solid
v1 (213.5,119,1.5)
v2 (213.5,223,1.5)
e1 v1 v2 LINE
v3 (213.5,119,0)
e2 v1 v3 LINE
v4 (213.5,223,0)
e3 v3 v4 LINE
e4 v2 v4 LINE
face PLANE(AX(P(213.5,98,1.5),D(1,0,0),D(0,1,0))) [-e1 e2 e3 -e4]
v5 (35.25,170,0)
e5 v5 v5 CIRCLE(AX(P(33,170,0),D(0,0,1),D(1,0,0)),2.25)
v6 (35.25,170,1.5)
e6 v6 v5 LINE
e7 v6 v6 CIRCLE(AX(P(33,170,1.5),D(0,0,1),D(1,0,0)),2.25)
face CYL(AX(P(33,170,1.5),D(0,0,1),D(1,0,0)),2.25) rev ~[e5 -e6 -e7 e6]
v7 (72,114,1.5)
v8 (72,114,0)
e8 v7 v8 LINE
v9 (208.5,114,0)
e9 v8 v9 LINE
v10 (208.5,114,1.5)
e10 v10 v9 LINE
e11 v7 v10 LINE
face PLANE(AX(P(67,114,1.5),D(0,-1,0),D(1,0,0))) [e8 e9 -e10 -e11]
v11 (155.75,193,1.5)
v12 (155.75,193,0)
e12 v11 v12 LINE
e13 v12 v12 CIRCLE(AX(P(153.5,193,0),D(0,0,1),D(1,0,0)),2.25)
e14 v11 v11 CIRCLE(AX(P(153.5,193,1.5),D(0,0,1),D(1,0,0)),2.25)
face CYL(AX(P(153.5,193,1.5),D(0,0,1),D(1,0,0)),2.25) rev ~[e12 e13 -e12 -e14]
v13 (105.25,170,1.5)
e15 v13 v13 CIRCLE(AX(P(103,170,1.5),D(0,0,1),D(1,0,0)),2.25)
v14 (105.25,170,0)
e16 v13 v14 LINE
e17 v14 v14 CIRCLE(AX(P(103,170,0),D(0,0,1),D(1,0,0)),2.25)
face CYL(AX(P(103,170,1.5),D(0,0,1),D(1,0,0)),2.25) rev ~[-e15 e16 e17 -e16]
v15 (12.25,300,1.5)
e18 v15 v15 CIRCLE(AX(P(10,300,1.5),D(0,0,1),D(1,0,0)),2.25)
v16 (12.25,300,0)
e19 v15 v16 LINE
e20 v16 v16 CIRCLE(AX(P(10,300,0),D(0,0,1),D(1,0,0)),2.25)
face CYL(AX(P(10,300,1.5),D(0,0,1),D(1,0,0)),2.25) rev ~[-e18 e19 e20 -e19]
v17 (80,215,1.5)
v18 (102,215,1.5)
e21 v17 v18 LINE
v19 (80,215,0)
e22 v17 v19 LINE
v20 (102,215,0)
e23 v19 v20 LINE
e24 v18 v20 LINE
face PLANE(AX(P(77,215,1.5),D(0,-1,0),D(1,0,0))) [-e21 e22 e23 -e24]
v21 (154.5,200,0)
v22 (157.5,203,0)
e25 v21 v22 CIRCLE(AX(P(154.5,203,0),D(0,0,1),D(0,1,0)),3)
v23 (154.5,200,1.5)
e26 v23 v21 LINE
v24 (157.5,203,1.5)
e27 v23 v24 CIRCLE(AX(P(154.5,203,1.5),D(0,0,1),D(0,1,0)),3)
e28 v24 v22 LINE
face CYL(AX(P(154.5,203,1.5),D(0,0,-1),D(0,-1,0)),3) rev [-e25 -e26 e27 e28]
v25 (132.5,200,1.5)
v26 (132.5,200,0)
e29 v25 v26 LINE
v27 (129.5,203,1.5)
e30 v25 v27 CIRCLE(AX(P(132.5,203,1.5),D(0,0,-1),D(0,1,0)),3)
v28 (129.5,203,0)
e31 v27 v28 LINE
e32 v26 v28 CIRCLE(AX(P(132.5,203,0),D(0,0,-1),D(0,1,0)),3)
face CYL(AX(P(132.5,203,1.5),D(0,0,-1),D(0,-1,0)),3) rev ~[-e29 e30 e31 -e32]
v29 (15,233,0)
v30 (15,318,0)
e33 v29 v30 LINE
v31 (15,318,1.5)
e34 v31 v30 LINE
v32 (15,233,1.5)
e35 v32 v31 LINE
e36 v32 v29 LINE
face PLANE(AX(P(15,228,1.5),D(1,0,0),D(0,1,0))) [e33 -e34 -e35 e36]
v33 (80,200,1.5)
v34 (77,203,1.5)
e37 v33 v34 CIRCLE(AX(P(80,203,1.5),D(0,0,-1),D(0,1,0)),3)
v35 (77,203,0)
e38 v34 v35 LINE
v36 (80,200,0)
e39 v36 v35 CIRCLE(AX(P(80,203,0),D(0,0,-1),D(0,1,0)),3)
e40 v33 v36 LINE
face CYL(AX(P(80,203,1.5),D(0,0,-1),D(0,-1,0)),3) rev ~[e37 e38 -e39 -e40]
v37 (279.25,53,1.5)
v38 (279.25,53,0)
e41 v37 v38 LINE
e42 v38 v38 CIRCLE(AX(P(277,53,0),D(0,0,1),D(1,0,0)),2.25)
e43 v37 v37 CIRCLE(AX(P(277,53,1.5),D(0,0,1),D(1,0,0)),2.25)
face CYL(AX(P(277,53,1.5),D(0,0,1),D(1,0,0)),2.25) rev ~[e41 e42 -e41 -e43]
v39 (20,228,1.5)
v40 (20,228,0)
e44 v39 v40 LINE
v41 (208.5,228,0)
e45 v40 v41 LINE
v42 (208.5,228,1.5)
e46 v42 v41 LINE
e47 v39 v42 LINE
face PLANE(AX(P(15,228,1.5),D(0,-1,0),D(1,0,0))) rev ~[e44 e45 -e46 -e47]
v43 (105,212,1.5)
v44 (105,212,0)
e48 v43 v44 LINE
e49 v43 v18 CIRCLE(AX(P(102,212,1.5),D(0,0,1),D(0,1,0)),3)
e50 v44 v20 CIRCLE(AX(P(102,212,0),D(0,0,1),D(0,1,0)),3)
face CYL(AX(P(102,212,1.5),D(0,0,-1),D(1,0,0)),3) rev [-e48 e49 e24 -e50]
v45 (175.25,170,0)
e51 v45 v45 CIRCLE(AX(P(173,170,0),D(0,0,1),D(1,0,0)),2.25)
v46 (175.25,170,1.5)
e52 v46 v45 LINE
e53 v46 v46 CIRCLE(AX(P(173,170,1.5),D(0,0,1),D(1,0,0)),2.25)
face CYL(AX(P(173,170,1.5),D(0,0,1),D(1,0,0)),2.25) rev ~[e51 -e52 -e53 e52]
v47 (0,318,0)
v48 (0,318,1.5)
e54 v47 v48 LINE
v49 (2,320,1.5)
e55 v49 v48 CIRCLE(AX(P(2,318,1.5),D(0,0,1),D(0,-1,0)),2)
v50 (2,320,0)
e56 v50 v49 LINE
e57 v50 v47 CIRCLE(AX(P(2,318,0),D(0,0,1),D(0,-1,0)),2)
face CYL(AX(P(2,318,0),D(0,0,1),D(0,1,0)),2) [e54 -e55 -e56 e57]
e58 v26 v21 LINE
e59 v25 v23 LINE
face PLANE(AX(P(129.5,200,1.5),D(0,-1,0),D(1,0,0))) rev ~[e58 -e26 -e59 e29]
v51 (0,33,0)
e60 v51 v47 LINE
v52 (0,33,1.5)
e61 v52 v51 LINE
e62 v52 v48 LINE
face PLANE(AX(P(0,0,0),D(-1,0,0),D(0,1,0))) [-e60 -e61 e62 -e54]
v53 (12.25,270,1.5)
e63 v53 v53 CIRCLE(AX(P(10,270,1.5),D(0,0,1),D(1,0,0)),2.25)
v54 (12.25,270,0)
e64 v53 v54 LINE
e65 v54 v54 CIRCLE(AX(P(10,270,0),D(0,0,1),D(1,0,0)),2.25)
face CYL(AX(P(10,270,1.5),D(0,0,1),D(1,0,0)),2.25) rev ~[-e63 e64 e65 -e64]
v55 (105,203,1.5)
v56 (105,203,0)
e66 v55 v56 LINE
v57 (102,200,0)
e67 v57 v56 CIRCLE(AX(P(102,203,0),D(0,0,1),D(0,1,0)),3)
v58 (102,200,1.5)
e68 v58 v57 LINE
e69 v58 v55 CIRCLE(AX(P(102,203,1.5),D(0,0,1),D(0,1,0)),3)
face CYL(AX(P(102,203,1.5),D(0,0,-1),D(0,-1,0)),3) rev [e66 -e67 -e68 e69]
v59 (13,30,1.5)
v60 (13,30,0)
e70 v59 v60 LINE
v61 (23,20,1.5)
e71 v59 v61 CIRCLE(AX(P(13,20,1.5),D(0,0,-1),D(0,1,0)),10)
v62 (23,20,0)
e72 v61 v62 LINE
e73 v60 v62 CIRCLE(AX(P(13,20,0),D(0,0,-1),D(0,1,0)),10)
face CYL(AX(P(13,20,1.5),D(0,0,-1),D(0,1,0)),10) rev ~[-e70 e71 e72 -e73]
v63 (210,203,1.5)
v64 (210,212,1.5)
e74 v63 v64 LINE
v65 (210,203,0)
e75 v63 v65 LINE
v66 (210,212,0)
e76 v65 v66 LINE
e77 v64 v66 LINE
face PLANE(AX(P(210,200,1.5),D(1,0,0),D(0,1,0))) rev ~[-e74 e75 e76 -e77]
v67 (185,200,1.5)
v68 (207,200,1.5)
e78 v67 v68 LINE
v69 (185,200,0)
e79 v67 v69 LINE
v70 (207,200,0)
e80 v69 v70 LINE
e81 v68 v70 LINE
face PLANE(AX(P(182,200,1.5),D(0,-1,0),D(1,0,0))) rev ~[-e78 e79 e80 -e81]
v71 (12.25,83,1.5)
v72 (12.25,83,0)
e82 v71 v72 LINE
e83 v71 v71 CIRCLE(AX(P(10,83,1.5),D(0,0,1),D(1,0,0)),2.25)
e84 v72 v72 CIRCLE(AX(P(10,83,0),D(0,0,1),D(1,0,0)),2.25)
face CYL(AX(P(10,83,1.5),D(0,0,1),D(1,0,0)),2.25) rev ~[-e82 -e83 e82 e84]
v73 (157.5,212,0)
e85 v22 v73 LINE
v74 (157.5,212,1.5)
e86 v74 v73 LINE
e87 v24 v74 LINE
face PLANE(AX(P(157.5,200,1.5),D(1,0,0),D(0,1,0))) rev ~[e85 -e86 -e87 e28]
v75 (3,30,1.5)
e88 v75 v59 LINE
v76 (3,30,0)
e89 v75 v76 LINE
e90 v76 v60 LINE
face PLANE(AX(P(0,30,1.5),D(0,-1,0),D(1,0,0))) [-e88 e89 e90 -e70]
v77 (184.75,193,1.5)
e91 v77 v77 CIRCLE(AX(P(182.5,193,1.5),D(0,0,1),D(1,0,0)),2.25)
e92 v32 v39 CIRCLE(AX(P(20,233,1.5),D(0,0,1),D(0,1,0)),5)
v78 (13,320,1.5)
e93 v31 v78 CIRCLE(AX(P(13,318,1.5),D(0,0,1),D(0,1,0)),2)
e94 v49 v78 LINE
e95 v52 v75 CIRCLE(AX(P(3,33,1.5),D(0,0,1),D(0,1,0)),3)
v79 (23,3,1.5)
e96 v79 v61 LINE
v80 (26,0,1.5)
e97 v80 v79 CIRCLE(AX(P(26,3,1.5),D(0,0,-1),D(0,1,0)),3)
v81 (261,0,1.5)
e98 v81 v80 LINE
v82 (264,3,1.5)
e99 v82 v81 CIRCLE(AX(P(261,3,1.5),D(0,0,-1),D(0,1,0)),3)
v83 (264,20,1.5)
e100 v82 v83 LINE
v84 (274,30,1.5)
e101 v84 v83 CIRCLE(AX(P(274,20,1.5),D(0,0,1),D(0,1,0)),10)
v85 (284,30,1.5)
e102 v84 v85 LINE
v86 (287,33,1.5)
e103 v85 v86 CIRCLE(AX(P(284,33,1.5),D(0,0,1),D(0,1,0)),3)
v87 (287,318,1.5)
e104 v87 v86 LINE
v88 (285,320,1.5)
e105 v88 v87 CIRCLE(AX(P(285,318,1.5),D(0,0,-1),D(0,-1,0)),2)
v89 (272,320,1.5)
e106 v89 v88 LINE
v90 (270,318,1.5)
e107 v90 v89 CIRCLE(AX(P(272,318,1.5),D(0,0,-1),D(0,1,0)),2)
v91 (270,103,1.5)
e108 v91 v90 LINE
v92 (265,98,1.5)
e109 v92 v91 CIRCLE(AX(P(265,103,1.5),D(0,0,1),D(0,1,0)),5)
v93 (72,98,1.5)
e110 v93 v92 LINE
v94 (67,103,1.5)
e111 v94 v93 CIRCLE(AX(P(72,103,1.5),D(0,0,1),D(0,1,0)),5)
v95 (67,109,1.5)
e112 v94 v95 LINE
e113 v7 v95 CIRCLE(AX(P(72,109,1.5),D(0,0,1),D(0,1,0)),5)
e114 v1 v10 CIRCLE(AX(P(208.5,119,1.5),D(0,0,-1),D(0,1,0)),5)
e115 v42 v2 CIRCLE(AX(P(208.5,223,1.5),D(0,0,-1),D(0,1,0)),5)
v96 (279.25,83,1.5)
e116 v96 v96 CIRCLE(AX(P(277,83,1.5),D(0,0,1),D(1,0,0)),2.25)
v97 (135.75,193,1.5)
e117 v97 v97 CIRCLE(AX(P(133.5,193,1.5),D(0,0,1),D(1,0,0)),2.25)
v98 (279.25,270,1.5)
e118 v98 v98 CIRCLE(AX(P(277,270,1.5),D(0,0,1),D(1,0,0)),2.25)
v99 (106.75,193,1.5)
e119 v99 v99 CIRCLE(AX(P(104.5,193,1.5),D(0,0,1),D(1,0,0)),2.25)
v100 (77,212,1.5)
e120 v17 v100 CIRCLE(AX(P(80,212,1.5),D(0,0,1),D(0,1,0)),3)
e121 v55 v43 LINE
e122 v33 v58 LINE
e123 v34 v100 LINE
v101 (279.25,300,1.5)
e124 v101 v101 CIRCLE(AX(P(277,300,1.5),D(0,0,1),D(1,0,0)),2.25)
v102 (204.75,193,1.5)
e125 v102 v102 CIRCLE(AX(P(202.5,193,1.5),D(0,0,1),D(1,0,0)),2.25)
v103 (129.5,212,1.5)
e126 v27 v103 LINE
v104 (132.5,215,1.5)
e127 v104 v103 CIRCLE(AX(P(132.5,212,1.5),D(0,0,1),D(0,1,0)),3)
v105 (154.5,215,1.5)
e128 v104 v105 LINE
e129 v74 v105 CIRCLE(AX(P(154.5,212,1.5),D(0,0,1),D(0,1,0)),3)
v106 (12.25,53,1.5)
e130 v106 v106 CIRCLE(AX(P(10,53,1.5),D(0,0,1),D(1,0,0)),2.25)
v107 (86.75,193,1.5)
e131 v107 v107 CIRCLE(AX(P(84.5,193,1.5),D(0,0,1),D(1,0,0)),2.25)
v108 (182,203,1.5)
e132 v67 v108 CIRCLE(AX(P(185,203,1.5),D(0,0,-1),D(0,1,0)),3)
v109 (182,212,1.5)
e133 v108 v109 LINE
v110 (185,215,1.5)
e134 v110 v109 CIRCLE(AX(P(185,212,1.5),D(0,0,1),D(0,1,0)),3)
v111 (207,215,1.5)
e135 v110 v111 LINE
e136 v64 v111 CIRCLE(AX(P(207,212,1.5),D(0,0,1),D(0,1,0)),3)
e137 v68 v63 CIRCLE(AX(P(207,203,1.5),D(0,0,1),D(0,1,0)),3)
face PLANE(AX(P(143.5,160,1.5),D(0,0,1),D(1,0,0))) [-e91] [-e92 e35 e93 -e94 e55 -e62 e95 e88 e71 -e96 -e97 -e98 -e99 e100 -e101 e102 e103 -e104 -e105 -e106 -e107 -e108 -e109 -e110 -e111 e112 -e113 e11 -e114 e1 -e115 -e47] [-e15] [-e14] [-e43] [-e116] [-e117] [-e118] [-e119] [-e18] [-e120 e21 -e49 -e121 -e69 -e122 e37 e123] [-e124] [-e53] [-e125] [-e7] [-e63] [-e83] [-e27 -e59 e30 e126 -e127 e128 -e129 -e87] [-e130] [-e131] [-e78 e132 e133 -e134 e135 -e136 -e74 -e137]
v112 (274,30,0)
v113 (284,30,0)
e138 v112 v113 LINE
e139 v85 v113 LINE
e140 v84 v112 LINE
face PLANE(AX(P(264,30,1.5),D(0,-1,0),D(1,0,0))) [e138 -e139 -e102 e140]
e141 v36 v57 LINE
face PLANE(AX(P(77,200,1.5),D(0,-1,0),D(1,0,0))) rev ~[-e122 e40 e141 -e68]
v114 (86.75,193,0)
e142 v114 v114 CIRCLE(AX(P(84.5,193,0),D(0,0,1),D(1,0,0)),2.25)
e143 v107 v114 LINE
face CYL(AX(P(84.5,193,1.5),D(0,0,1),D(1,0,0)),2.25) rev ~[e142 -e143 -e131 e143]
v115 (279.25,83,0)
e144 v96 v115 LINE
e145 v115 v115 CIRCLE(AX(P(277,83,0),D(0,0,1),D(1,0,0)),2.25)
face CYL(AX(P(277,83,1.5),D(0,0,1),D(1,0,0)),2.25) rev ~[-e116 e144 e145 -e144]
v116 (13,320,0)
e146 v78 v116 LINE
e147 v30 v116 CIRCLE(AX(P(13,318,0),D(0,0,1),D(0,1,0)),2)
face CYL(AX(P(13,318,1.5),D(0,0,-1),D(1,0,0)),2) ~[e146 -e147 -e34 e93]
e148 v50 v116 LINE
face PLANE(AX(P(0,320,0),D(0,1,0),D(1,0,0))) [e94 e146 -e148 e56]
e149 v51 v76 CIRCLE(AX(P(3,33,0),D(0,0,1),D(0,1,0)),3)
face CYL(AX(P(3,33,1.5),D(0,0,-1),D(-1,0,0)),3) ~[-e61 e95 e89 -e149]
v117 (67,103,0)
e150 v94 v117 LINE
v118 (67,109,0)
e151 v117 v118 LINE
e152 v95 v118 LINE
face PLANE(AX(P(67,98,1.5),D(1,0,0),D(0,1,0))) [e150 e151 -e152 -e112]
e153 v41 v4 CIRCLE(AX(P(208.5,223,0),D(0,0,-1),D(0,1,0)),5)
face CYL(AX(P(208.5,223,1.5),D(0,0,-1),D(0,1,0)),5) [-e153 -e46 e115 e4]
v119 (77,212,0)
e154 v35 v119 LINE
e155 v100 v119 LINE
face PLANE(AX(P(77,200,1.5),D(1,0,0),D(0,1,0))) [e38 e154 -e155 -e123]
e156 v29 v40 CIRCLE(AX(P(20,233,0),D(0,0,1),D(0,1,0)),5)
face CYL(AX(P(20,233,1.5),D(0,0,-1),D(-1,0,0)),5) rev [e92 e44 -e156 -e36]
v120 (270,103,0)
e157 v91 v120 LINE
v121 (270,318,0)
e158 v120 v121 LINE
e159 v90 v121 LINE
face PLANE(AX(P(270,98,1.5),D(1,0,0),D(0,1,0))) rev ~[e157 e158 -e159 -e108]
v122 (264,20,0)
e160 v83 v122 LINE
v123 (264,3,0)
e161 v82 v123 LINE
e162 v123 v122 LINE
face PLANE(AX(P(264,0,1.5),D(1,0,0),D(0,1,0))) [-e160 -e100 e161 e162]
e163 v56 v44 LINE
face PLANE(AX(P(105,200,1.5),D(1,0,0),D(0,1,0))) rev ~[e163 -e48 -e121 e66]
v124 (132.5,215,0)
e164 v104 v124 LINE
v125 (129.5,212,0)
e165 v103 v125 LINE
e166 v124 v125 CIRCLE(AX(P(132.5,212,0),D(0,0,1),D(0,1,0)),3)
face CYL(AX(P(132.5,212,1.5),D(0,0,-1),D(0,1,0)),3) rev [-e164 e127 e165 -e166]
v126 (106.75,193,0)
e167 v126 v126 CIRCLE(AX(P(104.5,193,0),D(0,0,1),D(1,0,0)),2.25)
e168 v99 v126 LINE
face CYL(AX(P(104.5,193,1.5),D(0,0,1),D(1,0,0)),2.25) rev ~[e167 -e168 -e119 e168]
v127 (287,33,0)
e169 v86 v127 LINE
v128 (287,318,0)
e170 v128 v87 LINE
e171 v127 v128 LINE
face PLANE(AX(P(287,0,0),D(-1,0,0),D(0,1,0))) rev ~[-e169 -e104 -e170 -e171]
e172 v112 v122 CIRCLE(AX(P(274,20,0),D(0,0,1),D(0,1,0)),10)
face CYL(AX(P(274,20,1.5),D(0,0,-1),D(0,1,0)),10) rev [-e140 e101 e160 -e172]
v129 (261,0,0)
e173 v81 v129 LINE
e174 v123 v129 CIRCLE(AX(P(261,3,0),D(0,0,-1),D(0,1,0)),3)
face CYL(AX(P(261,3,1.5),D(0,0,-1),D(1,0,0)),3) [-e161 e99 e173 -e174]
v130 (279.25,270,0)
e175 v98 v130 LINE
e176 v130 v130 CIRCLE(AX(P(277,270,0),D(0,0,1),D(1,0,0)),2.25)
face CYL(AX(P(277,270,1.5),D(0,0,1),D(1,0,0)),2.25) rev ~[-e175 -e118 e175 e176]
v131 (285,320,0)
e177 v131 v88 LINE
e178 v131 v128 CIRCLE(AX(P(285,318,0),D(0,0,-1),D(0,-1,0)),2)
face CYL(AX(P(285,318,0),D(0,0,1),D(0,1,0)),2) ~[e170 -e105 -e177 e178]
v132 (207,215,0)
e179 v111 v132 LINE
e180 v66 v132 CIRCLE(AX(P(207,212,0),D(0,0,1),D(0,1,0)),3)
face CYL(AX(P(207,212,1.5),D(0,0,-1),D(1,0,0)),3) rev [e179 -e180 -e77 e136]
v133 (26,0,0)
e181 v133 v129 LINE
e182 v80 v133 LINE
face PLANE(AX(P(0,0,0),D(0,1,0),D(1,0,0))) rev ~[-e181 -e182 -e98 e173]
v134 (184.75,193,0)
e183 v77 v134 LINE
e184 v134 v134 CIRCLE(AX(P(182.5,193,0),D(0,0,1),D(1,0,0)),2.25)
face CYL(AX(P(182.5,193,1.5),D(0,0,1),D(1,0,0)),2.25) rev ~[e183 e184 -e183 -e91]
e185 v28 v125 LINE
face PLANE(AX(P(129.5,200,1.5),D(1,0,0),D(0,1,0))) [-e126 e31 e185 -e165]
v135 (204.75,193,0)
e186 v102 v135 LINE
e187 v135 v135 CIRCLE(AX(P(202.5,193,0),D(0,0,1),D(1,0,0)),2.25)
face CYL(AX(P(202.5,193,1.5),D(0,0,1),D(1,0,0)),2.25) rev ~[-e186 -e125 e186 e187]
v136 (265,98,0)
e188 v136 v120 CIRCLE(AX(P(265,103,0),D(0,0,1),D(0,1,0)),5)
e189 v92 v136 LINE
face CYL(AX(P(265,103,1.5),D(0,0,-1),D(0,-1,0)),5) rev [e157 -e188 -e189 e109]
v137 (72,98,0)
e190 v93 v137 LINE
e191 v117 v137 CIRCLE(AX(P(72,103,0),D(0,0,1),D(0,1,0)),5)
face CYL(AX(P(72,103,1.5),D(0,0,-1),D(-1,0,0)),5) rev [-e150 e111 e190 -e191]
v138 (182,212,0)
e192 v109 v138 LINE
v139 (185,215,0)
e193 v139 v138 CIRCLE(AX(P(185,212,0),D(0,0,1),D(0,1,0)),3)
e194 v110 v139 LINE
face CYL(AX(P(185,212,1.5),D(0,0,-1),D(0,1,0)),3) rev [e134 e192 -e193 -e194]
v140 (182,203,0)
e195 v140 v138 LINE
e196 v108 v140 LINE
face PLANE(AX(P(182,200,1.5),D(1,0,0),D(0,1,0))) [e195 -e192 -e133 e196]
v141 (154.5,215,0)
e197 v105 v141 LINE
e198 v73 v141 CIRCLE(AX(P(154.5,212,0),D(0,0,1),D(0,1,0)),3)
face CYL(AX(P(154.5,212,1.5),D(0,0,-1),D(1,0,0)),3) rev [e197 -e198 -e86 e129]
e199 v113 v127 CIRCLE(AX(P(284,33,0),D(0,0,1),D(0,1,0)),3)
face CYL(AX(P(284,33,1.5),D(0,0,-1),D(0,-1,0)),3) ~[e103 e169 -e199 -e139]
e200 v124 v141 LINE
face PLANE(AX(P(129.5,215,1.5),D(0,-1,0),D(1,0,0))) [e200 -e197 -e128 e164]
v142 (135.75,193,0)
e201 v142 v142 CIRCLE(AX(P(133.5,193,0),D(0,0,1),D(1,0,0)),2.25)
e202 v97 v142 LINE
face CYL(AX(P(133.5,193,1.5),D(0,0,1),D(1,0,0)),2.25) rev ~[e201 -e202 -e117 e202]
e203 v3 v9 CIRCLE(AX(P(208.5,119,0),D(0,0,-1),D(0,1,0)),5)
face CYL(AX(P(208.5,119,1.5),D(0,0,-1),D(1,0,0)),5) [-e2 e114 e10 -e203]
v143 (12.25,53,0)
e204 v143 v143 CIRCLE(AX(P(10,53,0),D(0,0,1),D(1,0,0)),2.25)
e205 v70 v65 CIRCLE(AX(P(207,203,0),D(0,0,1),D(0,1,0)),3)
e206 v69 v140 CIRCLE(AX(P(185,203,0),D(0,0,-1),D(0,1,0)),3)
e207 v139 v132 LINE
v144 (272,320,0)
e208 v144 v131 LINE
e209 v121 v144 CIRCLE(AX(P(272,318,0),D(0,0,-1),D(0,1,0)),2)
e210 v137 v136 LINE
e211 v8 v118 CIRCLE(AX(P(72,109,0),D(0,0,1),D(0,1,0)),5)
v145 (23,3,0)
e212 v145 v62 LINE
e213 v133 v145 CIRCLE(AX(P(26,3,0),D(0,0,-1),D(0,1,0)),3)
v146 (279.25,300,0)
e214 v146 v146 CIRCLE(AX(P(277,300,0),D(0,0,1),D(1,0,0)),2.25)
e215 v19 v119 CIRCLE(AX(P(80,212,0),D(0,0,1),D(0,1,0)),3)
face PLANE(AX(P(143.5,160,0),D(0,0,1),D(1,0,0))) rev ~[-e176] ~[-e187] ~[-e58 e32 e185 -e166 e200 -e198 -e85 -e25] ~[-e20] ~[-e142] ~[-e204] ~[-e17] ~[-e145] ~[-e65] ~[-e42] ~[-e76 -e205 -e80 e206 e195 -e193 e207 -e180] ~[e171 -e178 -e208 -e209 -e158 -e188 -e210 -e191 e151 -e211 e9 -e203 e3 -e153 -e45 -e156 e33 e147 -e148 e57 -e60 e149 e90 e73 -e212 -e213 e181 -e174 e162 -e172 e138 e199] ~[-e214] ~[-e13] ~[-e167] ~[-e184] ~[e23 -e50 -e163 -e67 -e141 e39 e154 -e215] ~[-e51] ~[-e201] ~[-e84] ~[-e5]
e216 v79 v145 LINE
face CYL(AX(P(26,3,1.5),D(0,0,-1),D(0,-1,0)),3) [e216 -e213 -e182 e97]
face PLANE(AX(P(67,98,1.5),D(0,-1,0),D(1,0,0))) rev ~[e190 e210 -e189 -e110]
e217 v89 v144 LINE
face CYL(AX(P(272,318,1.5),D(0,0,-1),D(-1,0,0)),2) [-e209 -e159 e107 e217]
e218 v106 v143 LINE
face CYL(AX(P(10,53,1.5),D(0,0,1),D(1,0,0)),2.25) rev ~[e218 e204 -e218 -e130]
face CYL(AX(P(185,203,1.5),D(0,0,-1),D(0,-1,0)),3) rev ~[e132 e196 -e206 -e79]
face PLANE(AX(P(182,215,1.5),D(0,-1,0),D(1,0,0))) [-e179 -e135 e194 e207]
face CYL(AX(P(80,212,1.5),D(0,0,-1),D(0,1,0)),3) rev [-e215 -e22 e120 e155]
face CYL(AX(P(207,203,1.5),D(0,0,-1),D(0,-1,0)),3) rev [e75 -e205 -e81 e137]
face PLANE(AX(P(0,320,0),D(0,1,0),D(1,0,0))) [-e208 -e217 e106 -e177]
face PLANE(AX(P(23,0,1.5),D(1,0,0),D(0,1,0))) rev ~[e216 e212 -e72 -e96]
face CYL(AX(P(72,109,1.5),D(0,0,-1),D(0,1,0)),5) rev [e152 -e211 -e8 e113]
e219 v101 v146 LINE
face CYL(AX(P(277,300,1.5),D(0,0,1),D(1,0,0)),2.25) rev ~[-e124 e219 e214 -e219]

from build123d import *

# Parameters (mm, degrees)
ESQUISSE1_W                  = 287
ESQUISSE1_H                  = 320
BOSS_EXTRU_1_DEPTH           = 1.5
ESQUISSE2_W                  = 23
ESQUISSE2_H                  = 30
ENL_V_MAT_EXTRU_1_DEPTH      = 1
ENL_V_MAT_EXTRU_1_DEPTH_BACK = 2.5
CONG_1_R                     = 10
CONG_2_R                     = 3
ESQUISSE3_W                  = 140
ESQUISSE3_H                  = 92
ENL_V_MAT_EXTRU_2_DEPTH      = 1
ENL_V_MAT_EXTRU_2_DEPTH_BACK = 2.5
ESQUISSE4_W                  = 56.5
ESQUISSE4_H                  = 222
ENL_V_MAT_EXTRU_3_DEPTH      = 1
ENL_V_MAT_EXTRU_3_DEPTH_BACK = 2.5
ESQUISSE5_W                  = 58.5
ESQUISSE5_H                  = 92
ENL_V_MAT_EXTRU_4_DEPTH      = 1
ENL_V_MAT_EXTRU_4_DEPTH_BACK = 2.5
ESQUISSE6_W                  = 146.5
ESQUISSE6_H                  = 16
ENL_V_MAT_EXTRU_5_DEPTH      = 1
ENL_V_MAT_EXTRU_5_DEPTH_BACK = 2.5
CONG_3_R                     = 5
ESQUISSE7_R                  = 2.25
ENL_V_MAT_EXTRU_6_DEPTH      = 1
ENL_V_MAT_EXTRU_6_DEPTH_BACK = 2.5
ESQUISSE8_R                  = 2.25
ENL_V_MAT_EXTRU_7_DEPTH      = 1
ENL_V_MAT_EXTRU_7_DEPTH_BACK = 2.5
ESQUISSE9_W                  = 28
ESQUISSE9_H                  = 15
ENL_V_MAT_EXTRU_8_DEPTH      = 1
ENL_V_MAT_EXTRU_8_DEPTH_BACK = 2.5
CONG_4_R                     = 3
CONG_6_R                     = 2


with BuildPart() as part:
    # Esquisse1 → Boss.-Extru.1 (new body)
    with BuildSketch(Plane.XY):
        with Locations((143.5, 160)):
            Rectangle(ESQUISSE1_W, ESQUISSE1_H)
    extrude(amount=BOSS_EXTRU_1_DEPTH)

    # Esquisse2 → Enlèv. mat.-Extru.1 (cut, two sides)
    with BuildSketch(Plane.XY.offset(1.5)) as enl_v_mat_extru_1_sk:
        with Locations((275.5, 15)):
            Rectangle(ESQUISSE2_W, ESQUISSE2_H)
        with Locations((11.5, 15)):
            Rectangle(ESQUISSE2_W, ESQUISSE2_H)
    extrude(amount=ENL_V_MAT_EXTRU_1_DEPTH, mode=Mode.SUBTRACT)
    extrude(enl_v_mat_extru_1_sk.sketch, amount=-ENL_V_MAT_EXTRU_1_DEPTH_BACK, mode=Mode.SUBTRACT)

    # Congé1
    cong_1_edges = [part.edges().sort_by_distance(p)[0] for p in [
        (264, 30, 0.75),
        (23, 30, 0.75),
    ]]
    fillet(cong_1_edges, radius=CONG_1_R)

    # Congé2
    cong_2_edges = [part.edges().sort_by_distance(p)[0] for p in [
        (287, 30, 0.75),
        (264, 0, 0.75),
        (23, 0, 0.75),
        (0, 30, 0.75),
    ]]
    fillet(cong_2_edges, radius=CONG_2_R)

    # Esquisse3 → Enlèv. mat.-Extru.2 (cut, two sides)
    with BuildSketch(Plane.XY.offset(1.5)) as enl_v_mat_extru_2_sk:
        with Locations((143.5, 274)):
            Rectangle(ESQUISSE3_W, ESQUISSE3_H)
    extrude(amount=ENL_V_MAT_EXTRU_2_DEPTH, mode=Mode.SUBTRACT)
    extrude(enl_v_mat_extru_2_sk.sketch, amount=-ENL_V_MAT_EXTRU_2_DEPTH_BACK, mode=Mode.SUBTRACT)

    # Esquisse4 → Enlèv. mat.-Extru.3 (cut, two sides)
    with BuildSketch(Plane.XY.offset(1.5)) as enl_v_mat_extru_3_sk:
        with Locations((241.75, 209)):
            Rectangle(ESQUISSE4_W, ESQUISSE4_H)
    extrude(amount=ENL_V_MAT_EXTRU_3_DEPTH, mode=Mode.SUBTRACT)
    extrude(enl_v_mat_extru_3_sk.sketch, amount=-ENL_V_MAT_EXTRU_3_DEPTH_BACK, mode=Mode.SUBTRACT)

    # Esquisse5 → Enlèv. mat.-Extru.4 (cut, two sides)
    with BuildSketch(Plane.XY.offset(1.5)) as enl_v_mat_extru_4_sk:
        with Locations((44.25, 274)):
            Rectangle(ESQUISSE5_W, ESQUISSE5_H)
    extrude(amount=ENL_V_MAT_EXTRU_4_DEPTH, mode=Mode.SUBTRACT)
    extrude(enl_v_mat_extru_4_sk.sketch, amount=-ENL_V_MAT_EXTRU_4_DEPTH_BACK, mode=Mode.SUBTRACT)

    # Esquisse6 → Enlèv. mat.-Extru.5 (cut, two sides)
    with BuildSketch(Plane.XY.offset(1.5)) as enl_v_mat_extru_5_sk:
        with Locations((140.25, 106)):
            Rectangle(ESQUISSE6_W, ESQUISSE6_H)
    extrude(amount=ENL_V_MAT_EXTRU_5_DEPTH, mode=Mode.SUBTRACT)
    extrude(enl_v_mat_extru_5_sk.sketch, amount=-ENL_V_MAT_EXTRU_5_DEPTH_BACK, mode=Mode.SUBTRACT)

    # Congé3
    cong_3_edges = [part.edges().sort_by_distance(p)[0] for p in [
        (270, 98, 0.75),
        (15, 228, 0.75),
        (67, 98, 0.75),
        (213.5, 114, 0.75),
        (67, 114, 0.75),
        (213.5, 228, 0.75),
    ]]
    fillet(cong_3_edges, radius=CONG_3_R)

    # Esquisse7 → Enlèv. mat.-Extru.6 (cut, two sides)
    with BuildSketch(Plane.XY.offset(1.5)) as enl_v_mat_extru_6_sk:
        with Locations((277, 300)):
            Circle(ESQUISSE7_R)
        with Locations((277, 270)):
            Circle(ESQUISSE7_R)
        with Locations((10, 270)):
            Circle(ESQUISSE7_R)
        with Locations((10, 300)):
            Circle(ESQUISSE7_R)
        with Locations((277, 83)):
            Circle(ESQUISSE7_R)
        with Locations((277, 53)):
            Circle(ESQUISSE7_R)
        with Locations((10, 53)):
            Circle(ESQUISSE7_R)
        with Locations((10, 83)):
            Circle(ESQUISSE7_R)
        with Locations((33, 170)):
            Circle(ESQUISSE7_R)
        with Locations((103, 170)):
            Circle(ESQUISSE7_R)
        with Locations((173, 170)):
            Circle(ESQUISSE7_R)
    extrude(amount=ENL_V_MAT_EXTRU_6_DEPTH, mode=Mode.SUBTRACT)
    extrude(enl_v_mat_extru_6_sk.sketch, amount=-ENL_V_MAT_EXTRU_6_DEPTH_BACK, mode=Mode.SUBTRACT)

    # Esquisse8 → Enlèv. mat.-Extru.7 (cut, two sides)
    with BuildSketch(Plane.XY.offset(1.5)) as enl_v_mat_extru_7_sk:
        with Locations((133.5, 193)):
            Circle(ESQUISSE8_R)
        with Locations((153.5, 193)):
            Circle(ESQUISSE8_R)
        with Locations((182.5, 193)):
            Circle(ESQUISSE8_R)
        with Locations((202.5, 193)):
            Circle(ESQUISSE8_R)
        with Locations((84.5, 193)):
            Circle(ESQUISSE8_R)
        with Locations((104.5, 193)):
            Circle(ESQUISSE8_R)
    extrude(amount=ENL_V_MAT_EXTRU_7_DEPTH, mode=Mode.SUBTRACT)
    extrude(enl_v_mat_extru_7_sk.sketch, amount=-ENL_V_MAT_EXTRU_7_DEPTH_BACK, mode=Mode.SUBTRACT)

    # Esquisse9 → Enlèv. mat.-Extru.8 (cut, two sides)
    with BuildSketch(Plane.XY.offset(1.5)) as enl_v_mat_extru_8_sk:
        with Locations((143.5, 207.5)):
            Rectangle(ESQUISSE9_W, ESQUISSE9_H)
        with Locations((196, 207.5)):
            Rectangle(ESQUISSE9_W, ESQUISSE9_H)
        with Locations((91, 207.5)):
            Rectangle(ESQUISSE9_W, ESQUISSE9_H)
    extrude(amount=ENL_V_MAT_EXTRU_8_DEPTH, mode=Mode.SUBTRACT)
    extrude(enl_v_mat_extru_8_sk.sketch, amount=-ENL_V_MAT_EXTRU_8_DEPTH_BACK, mode=Mode.SUBTRACT)

    # Congé4
    cong_4_edges = [part.edges().sort_by_distance(p)[0] for p in [
        (129.5, 200, 0.75),
        (129.5, 215, 0.75),
        (157.5, 215, 0.75),
        (157.5, 200, 0.75),
        (182, 215, 0.75),
        (210, 215, 0.75),
        (210, 200, 0.75),
        (182, 200, 0.75),
        (77, 200, 0.75),
        (77, 215, 0.75),
        (105, 215, 0.75),
        (105, 200, 0.75),
    ]]
    fillet(cong_4_edges, radius=CONG_4_R)

    # Congé6
    cong_6_edges = [part.edges().sort_by_distance(p)[0] for p in [
        (270, 320, 0.75),
        (15, 320, 0.75),
        (0, 320, 0.75),
        (287, 320, 0.75),
    ]]
    fillet(cong_6_edges, radius=CONG_6_R)


solid = part.part
